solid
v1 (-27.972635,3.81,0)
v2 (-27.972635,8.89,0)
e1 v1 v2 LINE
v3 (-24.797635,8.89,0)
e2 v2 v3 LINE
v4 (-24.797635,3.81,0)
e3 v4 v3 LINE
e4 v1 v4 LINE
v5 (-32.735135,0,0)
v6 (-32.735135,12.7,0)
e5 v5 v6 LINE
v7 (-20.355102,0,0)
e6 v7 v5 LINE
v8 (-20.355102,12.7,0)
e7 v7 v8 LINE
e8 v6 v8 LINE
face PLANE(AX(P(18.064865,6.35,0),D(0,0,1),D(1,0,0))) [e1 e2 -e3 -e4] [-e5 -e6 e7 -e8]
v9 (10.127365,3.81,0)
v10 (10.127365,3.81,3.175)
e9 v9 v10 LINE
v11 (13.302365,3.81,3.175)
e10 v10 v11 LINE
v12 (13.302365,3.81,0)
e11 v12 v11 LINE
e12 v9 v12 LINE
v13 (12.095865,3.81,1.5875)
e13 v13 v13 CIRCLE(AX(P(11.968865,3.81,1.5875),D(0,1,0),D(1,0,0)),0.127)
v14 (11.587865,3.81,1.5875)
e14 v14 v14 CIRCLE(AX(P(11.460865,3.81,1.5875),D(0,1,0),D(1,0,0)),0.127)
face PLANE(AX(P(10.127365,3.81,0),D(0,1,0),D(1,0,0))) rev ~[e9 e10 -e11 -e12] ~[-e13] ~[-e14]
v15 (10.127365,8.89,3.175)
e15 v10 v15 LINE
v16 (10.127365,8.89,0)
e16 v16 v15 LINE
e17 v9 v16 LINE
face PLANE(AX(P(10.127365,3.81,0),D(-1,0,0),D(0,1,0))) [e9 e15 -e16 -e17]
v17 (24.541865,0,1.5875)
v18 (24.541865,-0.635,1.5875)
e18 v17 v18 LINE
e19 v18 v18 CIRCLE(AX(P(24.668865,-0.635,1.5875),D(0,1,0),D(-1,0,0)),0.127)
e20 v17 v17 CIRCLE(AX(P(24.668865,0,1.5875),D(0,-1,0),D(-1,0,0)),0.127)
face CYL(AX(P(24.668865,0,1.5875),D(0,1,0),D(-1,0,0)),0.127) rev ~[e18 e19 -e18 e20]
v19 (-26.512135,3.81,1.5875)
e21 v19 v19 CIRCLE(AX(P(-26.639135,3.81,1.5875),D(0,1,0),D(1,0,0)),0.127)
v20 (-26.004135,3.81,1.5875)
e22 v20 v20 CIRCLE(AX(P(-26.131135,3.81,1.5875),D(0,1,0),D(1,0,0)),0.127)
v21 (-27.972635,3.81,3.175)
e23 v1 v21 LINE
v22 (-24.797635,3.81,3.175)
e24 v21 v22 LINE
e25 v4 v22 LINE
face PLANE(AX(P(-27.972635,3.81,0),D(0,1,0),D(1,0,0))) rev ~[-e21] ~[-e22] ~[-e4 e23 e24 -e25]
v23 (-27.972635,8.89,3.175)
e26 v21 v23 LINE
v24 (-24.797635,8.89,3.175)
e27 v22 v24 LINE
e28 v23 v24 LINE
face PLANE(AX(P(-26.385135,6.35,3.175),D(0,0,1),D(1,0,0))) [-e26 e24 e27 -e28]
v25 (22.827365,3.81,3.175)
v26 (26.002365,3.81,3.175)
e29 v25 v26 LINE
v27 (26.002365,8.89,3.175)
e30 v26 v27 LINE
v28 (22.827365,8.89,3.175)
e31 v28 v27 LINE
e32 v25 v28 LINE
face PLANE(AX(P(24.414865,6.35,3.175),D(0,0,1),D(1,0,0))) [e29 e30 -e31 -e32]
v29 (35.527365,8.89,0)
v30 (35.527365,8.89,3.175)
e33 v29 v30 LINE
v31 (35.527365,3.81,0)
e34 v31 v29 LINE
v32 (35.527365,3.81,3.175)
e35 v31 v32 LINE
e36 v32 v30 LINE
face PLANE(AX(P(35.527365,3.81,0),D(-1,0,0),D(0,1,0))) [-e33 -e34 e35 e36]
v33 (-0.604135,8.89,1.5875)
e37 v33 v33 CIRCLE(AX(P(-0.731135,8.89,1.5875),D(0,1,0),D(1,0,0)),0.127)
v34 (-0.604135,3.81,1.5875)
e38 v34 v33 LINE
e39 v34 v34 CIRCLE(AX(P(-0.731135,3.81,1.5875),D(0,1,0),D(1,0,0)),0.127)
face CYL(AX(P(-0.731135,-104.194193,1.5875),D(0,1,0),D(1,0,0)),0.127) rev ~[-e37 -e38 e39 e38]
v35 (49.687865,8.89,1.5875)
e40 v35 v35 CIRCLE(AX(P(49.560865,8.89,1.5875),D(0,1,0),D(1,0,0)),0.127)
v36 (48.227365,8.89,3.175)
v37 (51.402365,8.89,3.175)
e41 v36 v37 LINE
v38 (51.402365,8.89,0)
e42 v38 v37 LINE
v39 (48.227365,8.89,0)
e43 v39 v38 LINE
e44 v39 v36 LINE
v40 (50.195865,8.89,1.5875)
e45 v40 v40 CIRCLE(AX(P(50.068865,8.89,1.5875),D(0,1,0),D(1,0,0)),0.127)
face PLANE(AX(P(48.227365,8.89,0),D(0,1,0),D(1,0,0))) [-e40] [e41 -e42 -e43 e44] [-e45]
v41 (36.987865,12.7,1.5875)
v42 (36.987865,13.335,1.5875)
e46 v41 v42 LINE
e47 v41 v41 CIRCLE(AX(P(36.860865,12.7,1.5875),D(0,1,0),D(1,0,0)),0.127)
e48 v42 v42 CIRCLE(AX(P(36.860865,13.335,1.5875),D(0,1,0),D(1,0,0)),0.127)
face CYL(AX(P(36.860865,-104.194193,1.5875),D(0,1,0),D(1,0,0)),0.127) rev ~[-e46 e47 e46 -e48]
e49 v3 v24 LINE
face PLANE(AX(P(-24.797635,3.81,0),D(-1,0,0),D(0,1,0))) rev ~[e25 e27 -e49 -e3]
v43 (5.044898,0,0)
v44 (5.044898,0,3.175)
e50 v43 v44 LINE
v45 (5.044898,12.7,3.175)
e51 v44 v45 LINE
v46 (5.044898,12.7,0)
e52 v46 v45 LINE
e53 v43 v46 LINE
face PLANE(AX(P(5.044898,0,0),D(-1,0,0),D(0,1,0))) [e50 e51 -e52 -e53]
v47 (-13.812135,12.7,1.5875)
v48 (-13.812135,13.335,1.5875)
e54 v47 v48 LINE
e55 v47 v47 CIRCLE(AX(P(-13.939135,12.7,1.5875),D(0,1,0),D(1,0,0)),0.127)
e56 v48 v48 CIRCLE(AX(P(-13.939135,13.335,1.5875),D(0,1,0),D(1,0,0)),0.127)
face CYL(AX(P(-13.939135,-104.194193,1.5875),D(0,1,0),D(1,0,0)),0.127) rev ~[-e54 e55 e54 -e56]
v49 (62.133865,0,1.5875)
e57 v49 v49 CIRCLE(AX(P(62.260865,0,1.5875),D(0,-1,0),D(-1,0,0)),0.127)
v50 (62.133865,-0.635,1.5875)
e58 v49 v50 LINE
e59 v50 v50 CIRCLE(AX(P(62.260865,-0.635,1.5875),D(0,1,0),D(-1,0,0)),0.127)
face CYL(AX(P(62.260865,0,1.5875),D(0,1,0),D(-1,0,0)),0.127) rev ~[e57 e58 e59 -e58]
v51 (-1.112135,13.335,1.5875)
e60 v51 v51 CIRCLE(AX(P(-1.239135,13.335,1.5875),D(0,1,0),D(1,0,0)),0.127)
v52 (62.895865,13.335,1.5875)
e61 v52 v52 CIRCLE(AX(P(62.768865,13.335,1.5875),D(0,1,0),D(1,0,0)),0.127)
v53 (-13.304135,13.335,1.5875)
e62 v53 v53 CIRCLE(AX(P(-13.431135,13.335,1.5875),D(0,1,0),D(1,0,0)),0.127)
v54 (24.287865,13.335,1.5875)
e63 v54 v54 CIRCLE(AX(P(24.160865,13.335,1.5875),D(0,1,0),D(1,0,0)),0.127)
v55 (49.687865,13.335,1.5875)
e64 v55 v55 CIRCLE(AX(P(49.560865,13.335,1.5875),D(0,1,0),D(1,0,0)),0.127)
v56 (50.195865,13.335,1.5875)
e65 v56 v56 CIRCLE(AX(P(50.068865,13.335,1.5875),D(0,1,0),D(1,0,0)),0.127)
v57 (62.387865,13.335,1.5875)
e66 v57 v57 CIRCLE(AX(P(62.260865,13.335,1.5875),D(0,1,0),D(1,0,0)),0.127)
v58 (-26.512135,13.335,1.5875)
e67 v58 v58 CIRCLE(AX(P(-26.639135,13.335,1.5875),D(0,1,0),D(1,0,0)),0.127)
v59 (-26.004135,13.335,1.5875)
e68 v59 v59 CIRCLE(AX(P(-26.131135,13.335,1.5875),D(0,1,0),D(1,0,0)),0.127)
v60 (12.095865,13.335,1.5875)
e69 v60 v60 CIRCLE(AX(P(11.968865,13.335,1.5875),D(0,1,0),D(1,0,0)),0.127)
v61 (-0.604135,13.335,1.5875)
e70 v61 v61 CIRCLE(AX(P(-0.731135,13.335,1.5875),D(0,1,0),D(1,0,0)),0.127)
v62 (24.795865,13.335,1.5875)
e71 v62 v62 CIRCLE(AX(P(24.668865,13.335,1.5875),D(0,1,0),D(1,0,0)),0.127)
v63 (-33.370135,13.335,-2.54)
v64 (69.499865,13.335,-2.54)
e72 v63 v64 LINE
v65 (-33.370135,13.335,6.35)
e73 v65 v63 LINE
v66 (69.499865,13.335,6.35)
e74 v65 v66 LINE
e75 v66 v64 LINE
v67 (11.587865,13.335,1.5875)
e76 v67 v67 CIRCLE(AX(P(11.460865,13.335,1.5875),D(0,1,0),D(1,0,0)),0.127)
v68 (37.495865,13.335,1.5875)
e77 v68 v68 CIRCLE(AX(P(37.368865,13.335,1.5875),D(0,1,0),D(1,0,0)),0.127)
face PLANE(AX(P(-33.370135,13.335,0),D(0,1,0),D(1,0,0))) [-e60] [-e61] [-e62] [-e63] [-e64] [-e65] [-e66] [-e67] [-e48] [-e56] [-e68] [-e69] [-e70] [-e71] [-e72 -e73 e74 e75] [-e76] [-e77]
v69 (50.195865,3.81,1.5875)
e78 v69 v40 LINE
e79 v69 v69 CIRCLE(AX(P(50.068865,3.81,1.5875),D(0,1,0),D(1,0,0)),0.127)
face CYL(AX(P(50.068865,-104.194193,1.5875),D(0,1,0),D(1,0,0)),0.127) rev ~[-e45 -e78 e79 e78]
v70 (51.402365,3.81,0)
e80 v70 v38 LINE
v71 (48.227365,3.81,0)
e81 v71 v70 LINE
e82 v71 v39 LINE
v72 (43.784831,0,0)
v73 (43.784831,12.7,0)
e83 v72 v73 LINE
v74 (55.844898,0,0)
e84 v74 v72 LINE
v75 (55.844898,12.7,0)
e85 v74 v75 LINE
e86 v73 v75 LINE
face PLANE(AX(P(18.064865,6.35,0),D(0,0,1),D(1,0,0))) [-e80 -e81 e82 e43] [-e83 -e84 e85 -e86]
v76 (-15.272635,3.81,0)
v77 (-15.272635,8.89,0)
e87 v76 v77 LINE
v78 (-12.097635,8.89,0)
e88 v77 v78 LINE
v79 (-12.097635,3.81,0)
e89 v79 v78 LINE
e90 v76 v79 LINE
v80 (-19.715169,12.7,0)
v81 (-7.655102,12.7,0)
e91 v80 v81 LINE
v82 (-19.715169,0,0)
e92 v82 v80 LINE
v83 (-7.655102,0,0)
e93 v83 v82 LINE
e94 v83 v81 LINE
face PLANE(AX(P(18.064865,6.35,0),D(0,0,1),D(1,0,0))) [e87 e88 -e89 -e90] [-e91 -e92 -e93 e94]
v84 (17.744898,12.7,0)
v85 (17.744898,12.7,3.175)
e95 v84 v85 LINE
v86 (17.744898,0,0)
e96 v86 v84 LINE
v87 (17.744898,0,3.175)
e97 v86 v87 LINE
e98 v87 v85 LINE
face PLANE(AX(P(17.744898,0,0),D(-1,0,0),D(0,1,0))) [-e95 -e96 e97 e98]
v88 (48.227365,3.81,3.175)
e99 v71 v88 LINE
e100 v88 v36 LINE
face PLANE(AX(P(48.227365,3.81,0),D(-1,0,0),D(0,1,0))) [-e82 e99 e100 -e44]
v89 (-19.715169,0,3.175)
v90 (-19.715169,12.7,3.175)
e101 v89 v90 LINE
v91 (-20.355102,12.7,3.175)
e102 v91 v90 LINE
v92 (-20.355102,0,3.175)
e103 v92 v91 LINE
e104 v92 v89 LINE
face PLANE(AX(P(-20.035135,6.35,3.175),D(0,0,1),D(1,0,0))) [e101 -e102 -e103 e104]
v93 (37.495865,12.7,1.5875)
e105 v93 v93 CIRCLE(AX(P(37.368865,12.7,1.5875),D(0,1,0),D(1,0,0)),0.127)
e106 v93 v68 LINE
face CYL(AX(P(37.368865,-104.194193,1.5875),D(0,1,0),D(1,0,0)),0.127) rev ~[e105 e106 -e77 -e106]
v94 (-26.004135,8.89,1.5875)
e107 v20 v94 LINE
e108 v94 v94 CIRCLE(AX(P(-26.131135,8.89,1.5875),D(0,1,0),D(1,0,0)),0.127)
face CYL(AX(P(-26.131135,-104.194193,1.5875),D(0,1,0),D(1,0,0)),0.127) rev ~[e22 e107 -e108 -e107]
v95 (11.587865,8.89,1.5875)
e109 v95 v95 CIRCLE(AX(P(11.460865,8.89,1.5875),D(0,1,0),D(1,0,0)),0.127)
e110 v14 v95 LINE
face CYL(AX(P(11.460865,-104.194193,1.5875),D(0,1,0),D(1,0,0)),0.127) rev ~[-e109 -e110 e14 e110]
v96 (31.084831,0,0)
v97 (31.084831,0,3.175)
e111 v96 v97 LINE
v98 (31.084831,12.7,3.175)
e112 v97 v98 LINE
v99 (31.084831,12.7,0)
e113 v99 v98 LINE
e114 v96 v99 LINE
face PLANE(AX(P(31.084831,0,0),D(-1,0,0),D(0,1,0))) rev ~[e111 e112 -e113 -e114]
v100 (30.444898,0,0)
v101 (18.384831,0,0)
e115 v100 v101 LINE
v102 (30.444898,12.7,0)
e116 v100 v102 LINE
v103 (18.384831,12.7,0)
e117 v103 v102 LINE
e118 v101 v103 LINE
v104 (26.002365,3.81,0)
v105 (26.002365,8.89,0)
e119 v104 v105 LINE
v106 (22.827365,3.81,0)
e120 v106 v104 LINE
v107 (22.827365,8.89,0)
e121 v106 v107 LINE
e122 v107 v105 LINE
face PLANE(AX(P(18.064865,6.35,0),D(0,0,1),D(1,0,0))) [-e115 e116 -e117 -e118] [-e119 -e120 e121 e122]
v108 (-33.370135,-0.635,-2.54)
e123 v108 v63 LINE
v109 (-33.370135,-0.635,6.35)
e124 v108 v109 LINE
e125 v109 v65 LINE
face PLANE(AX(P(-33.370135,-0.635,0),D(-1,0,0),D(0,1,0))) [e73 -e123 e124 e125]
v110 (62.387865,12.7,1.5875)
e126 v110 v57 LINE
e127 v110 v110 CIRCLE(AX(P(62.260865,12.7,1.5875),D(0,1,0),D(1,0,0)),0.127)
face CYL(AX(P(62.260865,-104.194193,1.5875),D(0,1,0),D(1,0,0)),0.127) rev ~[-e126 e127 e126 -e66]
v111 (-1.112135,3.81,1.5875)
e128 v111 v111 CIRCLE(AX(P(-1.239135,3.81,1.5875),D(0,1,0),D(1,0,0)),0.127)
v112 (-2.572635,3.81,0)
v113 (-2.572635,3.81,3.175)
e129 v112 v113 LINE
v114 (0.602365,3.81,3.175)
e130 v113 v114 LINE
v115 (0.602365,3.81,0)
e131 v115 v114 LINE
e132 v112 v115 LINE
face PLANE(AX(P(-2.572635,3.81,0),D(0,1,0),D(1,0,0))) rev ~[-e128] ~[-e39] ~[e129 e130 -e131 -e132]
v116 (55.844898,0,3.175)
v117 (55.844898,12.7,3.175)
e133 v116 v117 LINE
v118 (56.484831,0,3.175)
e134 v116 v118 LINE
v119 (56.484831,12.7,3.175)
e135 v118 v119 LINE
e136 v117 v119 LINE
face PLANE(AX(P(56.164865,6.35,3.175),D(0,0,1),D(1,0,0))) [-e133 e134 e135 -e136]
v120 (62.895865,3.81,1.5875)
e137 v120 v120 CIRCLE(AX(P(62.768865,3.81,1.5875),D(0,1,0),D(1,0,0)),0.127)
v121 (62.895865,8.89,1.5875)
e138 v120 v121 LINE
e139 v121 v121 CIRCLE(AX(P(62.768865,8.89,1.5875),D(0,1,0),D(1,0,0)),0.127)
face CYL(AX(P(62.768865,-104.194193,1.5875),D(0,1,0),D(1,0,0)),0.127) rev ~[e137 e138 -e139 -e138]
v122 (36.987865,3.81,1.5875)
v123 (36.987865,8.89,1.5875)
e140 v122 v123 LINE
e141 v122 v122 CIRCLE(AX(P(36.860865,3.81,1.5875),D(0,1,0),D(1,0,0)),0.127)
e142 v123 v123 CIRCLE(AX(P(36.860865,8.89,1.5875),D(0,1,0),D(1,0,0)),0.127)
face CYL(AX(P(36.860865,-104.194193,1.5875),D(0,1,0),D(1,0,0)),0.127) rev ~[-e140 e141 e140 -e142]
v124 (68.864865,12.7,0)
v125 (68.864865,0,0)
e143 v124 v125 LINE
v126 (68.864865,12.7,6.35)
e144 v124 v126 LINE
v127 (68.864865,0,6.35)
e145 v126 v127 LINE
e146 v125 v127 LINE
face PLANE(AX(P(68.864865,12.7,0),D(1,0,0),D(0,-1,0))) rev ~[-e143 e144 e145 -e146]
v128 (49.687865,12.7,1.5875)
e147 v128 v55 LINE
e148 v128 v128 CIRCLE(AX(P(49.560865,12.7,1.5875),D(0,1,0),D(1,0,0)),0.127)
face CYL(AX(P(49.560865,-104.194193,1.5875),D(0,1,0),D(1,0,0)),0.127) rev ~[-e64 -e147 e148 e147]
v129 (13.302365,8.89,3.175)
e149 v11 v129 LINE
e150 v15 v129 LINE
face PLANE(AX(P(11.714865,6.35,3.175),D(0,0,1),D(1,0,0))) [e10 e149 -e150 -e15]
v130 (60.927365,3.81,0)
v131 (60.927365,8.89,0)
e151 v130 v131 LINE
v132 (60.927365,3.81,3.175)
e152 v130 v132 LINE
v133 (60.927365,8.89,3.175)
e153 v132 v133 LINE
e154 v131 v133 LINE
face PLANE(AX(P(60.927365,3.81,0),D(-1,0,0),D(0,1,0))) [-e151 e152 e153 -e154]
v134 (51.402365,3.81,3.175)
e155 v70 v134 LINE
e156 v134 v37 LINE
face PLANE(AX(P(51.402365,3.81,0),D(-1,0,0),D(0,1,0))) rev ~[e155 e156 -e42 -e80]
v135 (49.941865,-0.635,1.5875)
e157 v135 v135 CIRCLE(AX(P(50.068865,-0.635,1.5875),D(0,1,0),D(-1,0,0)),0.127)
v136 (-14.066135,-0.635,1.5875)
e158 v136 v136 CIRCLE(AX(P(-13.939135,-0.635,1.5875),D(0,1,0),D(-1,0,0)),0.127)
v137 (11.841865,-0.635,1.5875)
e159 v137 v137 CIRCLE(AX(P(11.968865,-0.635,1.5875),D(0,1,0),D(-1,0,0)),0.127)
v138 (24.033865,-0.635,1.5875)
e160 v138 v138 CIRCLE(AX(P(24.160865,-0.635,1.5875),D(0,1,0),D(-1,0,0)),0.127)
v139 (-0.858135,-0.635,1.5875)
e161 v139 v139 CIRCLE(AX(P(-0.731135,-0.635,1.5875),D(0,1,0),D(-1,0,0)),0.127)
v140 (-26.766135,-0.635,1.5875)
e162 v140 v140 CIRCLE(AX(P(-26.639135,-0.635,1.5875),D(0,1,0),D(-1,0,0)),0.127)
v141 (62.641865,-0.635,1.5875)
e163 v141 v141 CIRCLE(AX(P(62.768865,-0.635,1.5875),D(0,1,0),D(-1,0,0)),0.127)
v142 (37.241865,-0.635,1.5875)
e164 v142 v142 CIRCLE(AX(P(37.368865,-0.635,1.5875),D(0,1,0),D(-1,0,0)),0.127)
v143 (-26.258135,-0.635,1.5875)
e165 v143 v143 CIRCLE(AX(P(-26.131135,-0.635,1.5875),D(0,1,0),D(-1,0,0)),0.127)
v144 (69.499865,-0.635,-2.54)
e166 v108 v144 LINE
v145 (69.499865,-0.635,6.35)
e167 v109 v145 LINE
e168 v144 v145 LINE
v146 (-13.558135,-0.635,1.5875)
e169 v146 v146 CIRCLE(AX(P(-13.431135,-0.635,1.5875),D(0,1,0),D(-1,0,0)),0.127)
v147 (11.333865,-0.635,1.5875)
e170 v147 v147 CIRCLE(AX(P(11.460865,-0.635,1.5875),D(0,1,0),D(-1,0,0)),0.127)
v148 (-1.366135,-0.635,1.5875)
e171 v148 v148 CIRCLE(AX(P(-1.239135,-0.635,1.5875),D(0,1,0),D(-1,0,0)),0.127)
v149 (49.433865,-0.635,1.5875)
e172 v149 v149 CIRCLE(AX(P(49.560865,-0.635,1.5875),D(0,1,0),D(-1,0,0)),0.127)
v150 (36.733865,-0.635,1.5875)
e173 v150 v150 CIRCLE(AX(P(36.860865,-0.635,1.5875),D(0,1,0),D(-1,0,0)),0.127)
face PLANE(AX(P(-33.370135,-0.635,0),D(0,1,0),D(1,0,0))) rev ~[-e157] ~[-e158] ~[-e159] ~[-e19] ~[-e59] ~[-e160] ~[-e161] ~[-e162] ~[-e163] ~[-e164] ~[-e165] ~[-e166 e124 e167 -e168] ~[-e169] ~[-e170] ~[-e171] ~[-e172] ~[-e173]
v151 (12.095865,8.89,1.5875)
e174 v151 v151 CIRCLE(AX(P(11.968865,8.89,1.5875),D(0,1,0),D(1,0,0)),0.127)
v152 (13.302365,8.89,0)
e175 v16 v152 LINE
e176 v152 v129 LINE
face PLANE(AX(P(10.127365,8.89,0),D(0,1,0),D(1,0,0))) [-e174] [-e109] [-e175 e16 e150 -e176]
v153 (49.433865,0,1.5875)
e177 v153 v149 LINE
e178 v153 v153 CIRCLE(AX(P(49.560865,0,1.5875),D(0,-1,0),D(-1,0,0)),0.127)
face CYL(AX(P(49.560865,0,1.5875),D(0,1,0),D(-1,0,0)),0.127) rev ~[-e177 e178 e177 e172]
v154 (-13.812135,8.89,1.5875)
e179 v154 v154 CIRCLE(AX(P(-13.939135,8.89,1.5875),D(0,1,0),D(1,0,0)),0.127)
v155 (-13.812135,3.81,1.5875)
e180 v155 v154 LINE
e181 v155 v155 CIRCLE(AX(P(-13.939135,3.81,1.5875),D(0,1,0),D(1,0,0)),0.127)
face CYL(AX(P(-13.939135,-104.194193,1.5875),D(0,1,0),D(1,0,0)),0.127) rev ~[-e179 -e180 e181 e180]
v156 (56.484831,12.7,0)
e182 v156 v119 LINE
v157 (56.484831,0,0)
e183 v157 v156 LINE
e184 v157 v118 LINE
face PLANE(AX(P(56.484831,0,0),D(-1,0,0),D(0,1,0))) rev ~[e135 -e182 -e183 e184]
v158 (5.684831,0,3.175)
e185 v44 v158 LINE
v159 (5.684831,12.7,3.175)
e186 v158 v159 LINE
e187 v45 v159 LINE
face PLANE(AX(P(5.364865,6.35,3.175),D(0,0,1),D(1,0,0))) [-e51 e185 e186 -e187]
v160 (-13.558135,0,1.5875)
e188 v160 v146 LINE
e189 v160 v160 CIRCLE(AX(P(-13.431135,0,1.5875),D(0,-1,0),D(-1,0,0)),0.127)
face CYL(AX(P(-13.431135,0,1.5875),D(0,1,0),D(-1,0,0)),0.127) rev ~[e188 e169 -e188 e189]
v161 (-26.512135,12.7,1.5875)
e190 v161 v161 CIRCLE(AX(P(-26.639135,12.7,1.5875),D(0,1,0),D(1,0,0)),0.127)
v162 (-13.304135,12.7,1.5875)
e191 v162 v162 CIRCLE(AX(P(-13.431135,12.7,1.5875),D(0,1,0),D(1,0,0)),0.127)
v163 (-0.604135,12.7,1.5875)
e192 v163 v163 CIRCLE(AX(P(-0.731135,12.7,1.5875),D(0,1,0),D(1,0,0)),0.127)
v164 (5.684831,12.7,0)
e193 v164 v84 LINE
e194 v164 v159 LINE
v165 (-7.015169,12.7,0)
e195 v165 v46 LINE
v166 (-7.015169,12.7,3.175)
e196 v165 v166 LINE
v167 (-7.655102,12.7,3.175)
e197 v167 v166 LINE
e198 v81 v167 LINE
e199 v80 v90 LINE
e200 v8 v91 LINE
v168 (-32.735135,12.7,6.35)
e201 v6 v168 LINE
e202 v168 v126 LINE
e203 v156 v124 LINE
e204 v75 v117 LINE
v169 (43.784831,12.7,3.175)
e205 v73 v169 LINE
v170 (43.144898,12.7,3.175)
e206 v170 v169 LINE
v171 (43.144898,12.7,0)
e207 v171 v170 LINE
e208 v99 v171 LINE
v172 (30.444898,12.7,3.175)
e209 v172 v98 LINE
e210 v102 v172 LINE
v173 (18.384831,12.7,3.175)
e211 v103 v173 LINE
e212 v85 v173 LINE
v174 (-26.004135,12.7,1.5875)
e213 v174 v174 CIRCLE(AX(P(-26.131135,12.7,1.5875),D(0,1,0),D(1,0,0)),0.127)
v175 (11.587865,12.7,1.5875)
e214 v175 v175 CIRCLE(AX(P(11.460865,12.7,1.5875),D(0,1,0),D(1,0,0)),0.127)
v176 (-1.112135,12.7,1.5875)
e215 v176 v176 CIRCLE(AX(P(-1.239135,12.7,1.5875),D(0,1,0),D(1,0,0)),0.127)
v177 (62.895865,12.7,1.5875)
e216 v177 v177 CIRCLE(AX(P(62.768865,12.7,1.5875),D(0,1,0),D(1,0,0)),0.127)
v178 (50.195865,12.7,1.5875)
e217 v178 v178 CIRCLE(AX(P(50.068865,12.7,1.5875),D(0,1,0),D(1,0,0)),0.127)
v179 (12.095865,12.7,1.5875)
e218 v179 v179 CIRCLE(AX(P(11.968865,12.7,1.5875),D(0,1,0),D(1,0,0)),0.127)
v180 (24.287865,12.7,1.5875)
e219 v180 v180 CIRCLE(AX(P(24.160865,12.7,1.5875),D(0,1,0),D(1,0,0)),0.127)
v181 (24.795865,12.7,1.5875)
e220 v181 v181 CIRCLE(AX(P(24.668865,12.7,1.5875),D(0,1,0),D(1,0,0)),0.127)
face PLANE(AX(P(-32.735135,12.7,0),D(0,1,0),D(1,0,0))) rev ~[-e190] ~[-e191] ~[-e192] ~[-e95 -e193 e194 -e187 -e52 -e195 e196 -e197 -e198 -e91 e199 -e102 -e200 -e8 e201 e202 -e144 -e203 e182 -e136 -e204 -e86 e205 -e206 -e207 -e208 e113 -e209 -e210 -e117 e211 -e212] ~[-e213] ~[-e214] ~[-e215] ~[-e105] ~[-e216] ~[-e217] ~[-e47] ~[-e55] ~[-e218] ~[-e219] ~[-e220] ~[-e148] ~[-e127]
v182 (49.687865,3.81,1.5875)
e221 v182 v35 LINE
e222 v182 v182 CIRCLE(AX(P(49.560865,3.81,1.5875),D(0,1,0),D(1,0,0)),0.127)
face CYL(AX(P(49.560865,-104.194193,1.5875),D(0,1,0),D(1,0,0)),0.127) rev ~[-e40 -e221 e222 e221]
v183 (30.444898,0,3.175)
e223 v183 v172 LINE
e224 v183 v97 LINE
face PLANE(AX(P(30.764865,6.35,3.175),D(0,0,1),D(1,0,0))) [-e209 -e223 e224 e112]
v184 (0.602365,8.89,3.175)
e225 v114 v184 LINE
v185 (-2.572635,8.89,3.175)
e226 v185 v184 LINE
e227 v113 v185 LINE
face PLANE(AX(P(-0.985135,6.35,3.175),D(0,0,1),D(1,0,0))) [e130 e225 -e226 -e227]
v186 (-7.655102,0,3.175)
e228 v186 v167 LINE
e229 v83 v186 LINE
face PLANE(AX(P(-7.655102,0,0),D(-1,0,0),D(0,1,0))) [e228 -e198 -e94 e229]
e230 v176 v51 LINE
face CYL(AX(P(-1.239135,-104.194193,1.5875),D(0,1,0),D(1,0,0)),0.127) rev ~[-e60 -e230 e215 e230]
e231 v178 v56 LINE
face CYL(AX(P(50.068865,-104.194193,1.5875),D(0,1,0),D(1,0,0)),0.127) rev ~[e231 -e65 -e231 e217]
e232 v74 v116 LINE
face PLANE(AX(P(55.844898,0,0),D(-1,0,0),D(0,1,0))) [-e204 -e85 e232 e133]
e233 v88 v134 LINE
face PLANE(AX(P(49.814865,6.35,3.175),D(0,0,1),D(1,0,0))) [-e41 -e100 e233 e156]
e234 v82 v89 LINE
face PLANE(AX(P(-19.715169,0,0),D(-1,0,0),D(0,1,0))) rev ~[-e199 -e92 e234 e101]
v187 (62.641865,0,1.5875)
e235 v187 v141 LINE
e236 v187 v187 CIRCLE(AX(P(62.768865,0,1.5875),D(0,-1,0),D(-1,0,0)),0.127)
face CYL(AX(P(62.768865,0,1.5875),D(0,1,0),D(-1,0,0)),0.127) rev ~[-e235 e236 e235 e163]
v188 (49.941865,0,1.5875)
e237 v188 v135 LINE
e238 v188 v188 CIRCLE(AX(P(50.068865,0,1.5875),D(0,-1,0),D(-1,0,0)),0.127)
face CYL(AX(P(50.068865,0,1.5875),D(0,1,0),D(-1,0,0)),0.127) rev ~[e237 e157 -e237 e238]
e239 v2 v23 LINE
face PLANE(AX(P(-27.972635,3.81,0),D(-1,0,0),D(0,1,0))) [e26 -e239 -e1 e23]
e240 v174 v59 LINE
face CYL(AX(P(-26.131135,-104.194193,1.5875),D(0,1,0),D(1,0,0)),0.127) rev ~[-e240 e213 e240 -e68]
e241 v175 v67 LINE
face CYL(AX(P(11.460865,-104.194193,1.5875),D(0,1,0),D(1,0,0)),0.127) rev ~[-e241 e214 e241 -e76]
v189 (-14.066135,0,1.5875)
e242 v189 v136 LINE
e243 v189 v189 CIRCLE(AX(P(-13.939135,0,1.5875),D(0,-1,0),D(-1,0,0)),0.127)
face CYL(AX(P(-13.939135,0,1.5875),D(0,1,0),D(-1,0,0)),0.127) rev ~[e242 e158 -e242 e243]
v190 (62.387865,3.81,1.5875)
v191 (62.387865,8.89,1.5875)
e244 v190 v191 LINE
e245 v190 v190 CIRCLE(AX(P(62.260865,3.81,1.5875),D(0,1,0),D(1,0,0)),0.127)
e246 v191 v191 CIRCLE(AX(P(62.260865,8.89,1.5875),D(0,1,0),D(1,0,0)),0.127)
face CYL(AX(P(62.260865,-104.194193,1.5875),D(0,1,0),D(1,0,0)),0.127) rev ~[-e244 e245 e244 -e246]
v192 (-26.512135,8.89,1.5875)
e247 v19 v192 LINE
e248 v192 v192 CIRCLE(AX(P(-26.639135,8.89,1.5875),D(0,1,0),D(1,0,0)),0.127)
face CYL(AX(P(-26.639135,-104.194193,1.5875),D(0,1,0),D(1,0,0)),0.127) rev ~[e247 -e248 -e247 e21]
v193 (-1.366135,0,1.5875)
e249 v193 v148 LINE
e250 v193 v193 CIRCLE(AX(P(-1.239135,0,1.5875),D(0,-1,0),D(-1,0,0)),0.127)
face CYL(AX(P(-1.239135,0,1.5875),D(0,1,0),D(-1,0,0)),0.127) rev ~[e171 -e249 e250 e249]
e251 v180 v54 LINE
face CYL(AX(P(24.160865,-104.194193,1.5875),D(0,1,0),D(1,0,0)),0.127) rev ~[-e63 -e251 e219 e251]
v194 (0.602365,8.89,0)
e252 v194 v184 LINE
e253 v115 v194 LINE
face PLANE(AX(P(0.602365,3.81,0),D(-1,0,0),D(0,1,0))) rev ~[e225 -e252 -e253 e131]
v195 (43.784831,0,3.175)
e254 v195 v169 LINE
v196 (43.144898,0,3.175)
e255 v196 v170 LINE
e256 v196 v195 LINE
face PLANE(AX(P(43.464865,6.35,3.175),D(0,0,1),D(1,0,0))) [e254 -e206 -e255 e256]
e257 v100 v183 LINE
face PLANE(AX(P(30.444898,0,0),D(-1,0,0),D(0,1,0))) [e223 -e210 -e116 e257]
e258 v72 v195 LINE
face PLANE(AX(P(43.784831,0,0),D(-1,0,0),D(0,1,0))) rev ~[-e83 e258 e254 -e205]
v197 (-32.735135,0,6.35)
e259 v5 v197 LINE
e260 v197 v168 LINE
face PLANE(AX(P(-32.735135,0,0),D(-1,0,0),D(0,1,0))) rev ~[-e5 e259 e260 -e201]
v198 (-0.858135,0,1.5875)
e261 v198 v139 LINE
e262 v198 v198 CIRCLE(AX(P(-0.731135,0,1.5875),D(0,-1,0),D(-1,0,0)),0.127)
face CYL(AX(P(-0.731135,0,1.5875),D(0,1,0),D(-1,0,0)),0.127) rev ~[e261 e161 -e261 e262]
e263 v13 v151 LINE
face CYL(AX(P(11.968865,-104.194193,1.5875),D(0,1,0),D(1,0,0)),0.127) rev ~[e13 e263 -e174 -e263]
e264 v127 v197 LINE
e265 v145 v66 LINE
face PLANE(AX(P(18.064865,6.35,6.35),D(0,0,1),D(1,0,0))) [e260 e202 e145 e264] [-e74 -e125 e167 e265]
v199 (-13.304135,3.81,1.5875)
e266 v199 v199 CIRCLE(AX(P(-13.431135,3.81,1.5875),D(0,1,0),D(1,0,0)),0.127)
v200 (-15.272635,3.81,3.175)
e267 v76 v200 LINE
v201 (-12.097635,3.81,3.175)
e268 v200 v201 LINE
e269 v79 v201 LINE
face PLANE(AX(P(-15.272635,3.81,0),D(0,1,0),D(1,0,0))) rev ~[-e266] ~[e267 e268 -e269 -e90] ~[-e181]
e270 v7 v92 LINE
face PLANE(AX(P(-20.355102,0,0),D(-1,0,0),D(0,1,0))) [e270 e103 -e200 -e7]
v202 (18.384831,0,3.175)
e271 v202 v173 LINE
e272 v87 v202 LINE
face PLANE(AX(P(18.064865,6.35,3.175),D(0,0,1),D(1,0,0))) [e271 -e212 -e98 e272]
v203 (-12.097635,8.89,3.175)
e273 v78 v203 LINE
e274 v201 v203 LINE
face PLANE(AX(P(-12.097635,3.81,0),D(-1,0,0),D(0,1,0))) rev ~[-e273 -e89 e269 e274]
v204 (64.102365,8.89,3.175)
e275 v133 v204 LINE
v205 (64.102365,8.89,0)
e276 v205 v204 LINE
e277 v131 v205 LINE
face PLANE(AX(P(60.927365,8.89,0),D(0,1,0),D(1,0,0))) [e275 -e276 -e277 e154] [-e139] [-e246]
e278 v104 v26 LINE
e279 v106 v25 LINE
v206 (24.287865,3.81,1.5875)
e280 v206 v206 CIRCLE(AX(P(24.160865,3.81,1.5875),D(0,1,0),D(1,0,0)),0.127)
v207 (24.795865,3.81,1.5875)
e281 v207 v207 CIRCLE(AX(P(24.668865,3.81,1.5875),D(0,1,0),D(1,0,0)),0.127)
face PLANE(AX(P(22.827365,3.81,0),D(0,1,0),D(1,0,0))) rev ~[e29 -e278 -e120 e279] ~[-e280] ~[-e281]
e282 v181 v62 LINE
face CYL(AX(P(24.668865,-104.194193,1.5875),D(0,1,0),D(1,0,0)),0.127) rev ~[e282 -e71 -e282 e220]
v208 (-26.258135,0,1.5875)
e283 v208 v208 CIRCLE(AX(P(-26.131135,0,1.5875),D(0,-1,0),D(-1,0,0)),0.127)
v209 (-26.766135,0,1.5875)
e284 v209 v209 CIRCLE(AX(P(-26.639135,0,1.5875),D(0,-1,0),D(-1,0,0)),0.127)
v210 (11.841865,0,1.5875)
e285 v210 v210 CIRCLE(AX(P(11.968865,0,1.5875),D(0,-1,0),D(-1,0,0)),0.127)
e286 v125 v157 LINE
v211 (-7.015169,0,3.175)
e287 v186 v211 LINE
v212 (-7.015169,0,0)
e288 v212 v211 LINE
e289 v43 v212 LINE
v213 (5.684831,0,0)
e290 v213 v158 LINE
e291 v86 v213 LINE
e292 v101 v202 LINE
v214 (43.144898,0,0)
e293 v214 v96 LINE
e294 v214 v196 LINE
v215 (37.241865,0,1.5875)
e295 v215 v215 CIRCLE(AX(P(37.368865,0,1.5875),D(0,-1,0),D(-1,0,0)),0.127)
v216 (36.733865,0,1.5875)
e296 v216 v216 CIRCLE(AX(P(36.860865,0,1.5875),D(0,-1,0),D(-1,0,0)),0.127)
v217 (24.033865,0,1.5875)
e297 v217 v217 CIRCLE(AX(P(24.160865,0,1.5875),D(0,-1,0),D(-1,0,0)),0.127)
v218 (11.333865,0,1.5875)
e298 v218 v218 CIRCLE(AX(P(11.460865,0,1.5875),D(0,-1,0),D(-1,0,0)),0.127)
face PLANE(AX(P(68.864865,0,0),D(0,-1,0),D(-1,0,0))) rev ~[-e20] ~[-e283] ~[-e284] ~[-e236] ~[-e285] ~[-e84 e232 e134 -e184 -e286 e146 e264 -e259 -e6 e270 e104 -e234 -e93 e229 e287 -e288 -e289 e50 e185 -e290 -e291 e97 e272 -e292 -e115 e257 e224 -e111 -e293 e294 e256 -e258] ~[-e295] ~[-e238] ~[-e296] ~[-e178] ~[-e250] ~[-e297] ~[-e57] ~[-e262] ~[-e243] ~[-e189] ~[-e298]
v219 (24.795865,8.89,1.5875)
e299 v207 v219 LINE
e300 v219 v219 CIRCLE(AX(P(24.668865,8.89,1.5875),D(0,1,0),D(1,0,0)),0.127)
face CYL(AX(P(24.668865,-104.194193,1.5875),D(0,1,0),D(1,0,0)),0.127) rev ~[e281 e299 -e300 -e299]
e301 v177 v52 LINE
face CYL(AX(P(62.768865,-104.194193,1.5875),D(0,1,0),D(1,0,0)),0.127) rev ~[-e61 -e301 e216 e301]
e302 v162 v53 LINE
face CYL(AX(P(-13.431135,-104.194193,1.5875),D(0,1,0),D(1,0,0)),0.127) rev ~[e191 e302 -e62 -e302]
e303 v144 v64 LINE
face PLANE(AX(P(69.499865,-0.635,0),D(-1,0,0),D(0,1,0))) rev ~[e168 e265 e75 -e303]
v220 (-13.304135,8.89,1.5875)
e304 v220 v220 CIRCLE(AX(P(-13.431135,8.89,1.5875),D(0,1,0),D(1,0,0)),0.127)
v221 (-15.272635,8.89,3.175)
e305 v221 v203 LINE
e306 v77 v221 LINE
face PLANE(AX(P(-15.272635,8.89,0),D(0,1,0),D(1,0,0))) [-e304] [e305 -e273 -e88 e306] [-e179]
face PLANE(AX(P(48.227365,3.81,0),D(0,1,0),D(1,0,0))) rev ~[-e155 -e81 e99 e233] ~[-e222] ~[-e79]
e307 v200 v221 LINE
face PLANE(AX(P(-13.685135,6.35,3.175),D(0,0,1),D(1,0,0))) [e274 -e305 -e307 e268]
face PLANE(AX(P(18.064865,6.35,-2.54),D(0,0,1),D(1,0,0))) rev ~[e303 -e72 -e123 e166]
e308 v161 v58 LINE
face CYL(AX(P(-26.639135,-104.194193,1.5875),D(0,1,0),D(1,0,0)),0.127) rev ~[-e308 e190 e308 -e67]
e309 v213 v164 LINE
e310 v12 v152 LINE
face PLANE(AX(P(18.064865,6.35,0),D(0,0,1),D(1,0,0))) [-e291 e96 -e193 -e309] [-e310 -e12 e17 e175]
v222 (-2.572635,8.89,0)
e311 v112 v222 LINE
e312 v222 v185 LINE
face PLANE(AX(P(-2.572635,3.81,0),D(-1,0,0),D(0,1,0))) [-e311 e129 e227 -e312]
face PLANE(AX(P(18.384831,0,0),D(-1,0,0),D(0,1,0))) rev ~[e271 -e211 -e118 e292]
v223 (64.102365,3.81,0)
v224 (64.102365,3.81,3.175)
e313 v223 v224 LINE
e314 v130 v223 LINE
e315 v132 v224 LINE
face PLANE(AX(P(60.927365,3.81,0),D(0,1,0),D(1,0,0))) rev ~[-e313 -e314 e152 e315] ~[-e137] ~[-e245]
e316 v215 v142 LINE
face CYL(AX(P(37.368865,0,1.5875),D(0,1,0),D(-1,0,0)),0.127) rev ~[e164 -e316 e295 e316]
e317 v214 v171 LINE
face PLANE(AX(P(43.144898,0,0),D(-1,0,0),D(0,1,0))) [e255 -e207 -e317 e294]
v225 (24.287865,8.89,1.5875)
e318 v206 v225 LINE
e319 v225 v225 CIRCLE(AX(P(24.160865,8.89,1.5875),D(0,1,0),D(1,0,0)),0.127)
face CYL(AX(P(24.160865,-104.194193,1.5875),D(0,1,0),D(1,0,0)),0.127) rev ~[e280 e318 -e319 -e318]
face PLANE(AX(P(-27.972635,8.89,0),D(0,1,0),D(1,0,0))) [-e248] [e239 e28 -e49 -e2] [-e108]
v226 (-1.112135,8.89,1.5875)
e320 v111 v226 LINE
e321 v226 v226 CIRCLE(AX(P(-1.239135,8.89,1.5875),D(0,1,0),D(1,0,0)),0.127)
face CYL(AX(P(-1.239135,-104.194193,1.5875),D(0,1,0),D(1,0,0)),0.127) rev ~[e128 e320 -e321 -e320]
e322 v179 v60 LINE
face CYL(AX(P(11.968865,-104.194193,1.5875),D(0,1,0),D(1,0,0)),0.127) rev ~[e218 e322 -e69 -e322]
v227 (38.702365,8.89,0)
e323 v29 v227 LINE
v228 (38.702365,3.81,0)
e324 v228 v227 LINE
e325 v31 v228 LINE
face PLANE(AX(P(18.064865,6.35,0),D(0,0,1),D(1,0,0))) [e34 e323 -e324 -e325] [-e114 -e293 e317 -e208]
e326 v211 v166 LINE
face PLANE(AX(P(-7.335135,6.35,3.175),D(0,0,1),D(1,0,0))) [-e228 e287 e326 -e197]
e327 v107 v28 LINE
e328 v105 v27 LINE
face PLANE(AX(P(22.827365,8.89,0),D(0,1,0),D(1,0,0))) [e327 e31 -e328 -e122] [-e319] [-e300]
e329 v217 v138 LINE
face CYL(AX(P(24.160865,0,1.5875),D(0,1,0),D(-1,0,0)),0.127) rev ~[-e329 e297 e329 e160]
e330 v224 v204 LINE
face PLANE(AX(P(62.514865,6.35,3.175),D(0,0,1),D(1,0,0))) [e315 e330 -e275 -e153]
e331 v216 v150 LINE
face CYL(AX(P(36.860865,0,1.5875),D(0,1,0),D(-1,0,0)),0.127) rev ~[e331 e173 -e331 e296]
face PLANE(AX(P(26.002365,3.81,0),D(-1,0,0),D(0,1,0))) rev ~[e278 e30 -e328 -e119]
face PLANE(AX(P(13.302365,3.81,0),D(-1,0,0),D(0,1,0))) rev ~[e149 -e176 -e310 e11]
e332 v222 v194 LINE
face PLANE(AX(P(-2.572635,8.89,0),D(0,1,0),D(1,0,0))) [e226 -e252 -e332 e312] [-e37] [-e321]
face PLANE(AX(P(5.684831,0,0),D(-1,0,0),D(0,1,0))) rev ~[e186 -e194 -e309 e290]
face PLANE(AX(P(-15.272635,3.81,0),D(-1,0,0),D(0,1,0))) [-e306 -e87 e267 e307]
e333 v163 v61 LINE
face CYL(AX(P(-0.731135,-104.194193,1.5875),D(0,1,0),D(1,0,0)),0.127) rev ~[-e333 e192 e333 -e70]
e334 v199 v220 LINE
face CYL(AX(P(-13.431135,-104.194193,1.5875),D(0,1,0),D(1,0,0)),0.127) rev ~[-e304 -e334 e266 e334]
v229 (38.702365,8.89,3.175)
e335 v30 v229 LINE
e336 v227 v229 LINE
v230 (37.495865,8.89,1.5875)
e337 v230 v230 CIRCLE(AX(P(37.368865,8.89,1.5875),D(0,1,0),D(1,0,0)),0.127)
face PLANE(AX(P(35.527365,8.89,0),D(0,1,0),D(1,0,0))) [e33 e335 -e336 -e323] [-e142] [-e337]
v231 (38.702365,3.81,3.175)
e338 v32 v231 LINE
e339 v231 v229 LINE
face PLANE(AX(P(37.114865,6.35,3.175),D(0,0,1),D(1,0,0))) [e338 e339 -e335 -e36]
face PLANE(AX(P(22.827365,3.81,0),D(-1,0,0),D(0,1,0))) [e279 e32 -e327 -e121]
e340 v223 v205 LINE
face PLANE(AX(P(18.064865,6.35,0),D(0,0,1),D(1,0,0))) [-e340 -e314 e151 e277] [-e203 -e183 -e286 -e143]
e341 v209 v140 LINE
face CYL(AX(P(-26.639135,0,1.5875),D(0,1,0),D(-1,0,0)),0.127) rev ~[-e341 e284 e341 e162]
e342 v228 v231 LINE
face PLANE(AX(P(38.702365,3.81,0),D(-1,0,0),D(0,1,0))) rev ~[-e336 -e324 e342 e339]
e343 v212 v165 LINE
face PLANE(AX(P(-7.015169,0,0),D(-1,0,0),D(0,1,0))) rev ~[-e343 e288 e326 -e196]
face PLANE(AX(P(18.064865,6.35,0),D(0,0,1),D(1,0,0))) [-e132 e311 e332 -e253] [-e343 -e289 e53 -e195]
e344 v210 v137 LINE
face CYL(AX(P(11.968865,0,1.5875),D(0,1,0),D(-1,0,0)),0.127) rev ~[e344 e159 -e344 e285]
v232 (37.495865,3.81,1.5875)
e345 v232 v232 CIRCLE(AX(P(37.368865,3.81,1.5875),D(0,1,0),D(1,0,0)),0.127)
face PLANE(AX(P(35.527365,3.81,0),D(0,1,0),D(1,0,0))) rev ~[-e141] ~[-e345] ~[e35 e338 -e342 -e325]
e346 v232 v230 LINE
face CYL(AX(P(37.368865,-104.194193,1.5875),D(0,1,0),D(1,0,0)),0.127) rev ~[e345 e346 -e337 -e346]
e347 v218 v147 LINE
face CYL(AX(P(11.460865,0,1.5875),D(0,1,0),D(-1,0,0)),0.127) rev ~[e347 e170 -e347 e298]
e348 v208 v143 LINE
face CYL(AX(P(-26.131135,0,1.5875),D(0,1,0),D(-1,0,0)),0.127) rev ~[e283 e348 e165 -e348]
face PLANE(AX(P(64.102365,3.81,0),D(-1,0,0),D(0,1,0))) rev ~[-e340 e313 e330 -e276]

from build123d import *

# Parameters (mm, degrees)
F0_W     = 102.87
F0_H     = 13.97
F0_W_2   = 12.3800332606
F0_H_2   = 12.7
F0_W_3   = 3.175
F0_H_3   = 5.08
F0_W_4   = 12.0600665212
F0_W_5   = 0.6399334788
F1_DEPTH = 2.54
F2_DEPTH = 6.35
F3_DEPTH = 3.175
F5_D     = 0.254
F5_DEPTH = 0.636
F6_D     = 0.254


with BuildPart() as f1:
    # F0 (on Top) → F1 (new body)
    with BuildSketch(Plane.XY):
        with Locations((18.0648645937, 6.35)):
            Rectangle(F0_W, F0_H)
        Polygon((-20.3551021457, 0), (-32.7351354063, 0), (-32.7351354063, 12.7), (-20.3551021457, 12.7), (-19.7151686668, 12.7), (-7.6551021457, 12.7), (-7.0151686668, 12.7), (5.0448978543, 12.7), (5.6848313332, 12.7), (17.7448978543, 12.7), (18.3848313332, 12.7), (30.4448978543, 12.7), (31.0848313332, 12.7), (43.1448978543, 12.7), (43.7848313332, 12.7), (55.8448978543, 12.7), (56.4848313332, 12.7), (68.8648645937, 12.7), (68.8648645937, 0), (56.4848313332, 0), (55.8448978543, 0), (43.7848313332, 0), (43.1448978543, 0), (31.0848313332, 0), (30.4448978543, 0), (18.3848313332, 0), (17.7448978543, 0), (5.6848313332, 0), (5.0448978543, 0), (-7.0151686668, 0), (-7.6551021457, 0), (-19.7151686668, 0), align=None, mode=Mode.SUBTRACT)
        with Locations((62.6748479635, 6.35)):
            Rectangle(F0_W_2, F0_H_2)
        with Locations((62.5148645937, 6.35)):
            Rectangle(F0_W_3, F0_H_3, mode=Mode.SUBTRACT)
        with Locations((-26.545118776, 6.35)):
            Rectangle(F0_W_2, F0_H_2)
        with Locations((-26.3851354063, 6.35)):
            Rectangle(F0_W_3, F0_H_3, mode=Mode.SUBTRACT)
        with Locations((-13.6851354063, 6.35)):
            Rectangle(F0_W_4, F0_H_2)
        with Locations((-13.6851354063, 6.35)):
            Rectangle(F0_W_3, F0_H_3, mode=Mode.SUBTRACT)
        with Locations((-0.9851354063, 6.35)):
            Rectangle(F0_W_4, F0_H_2)
        with Locations((-0.9851354063, 6.35)):
            Rectangle(F0_W_3, F0_H_3, mode=Mode.SUBTRACT)
        with Locations((49.8148645937, 6.35)):
            Rectangle(F0_W_4, F0_H_2)
        with Locations((49.8148645937, 6.35)):
            Rectangle(F0_W_3, F0_H_3, mode=Mode.SUBTRACT)
        with Locations((37.1148645937, 6.35)):
            Rectangle(F0_W_4, F0_H_2)
        with Locations((37.1148645937, 6.35)):
            Rectangle(F0_W_3, F0_H_3, mode=Mode.SUBTRACT)
        with Locations((11.7148645937, 6.35)):
            Rectangle(F0_W_4, F0_H_2)
        with Locations((11.7148645937, 6.35)):
            Rectangle(F0_W_3, F0_H_3, mode=Mode.SUBTRACT)
        with Locations((24.4148645937, 6.35)):
            Rectangle(F0_W_4, F0_H_2)
        with Locations((24.4148645937, 6.35)):
            Rectangle(F0_W_3, F0_H_3, mode=Mode.SUBTRACT)
        with Locations((49.8148645937, 6.35)):
            Rectangle(F0_W_3, F0_H_3)
        with Locations((24.4148645937, 6.35)):
            Rectangle(F0_W_3, F0_H_3)
        with Locations((-26.3851354063, 6.35)):
            Rectangle(F0_W_3, F0_H_3)
        with Locations((-0.9851354063, 6.35)):
            Rectangle(F0_W_3, F0_H_3)
        with Locations((-13.6851354063, 6.35)):
            Rectangle(F0_W_3, F0_H_3)
        with Locations((62.5148645937, 6.35)):
            Rectangle(F0_W_3, F0_H_3)
        with Locations((11.7148645937, 6.35)):
            Rectangle(F0_W_3, F0_H_3)
        with Locations((37.1148645937, 6.35)):
            Rectangle(F0_W_3, F0_H_3)
        with Locations((5.3648645937, 6.35)):
            Rectangle(F0_W_5, F0_H_2)
        with Locations((56.1648645937, 6.35)):
            Rectangle(F0_W_5, F0_H_2)
        with Locations((18.0648645937, 6.35)):
            Rectangle(F0_W_5, F0_H_2)
        with Locations((30.7648645937, 6.35)):
            Rectangle(F0_W_5, F0_H_2)
        with Locations((43.4648645937, 6.35)):
            Rectangle(F0_W_5, F0_H_2)
        with Locations((-7.3351354063, 6.35)):
            Rectangle(F0_W_5, F0_H_2)
        with Locations((-20.0351354063, 6.35)):
            Rectangle(F0_W_5, F0_H_2)
    extrude(amount=-F1_DEPTH)

    # F0 (on Top) → F2 (join)
    with BuildSketch(Plane.XY):
        with Locations((18.0648645937, 6.35)):
            Rectangle(F0_W, F0_H)
        Polygon((-20.3551021457, 0), (-32.7351354063, 0), (-32.7351354063, 12.7), (-20.3551021457, 12.7), (-19.7151686668, 12.7), (-7.6551021457, 12.7), (-7.0151686668, 12.7), (5.0448978543, 12.7), (5.6848313332, 12.7), (17.7448978543, 12.7), (18.3848313332, 12.7), (30.4448978543, 12.7), (31.0848313332, 12.7), (43.1448978543, 12.7), (43.7848313332, 12.7), (55.8448978543, 12.7), (56.4848313332, 12.7), (68.8648645937, 12.7), (68.8648645937, 0), (56.4848313332, 0), (55.8448978543, 0), (43.7848313332, 0), (43.1448978543, 0), (31.0848313332, 0), (30.4448978543, 0), (18.3848313332, 0), (17.7448978543, 0), (5.6848313332, 0), (5.0448978543, 0), (-7.0151686668, 0), (-7.6551021457, 0), (-19.7151686668, 0), align=None, mode=Mode.SUBTRACT)
    extrude(amount=F2_DEPTH)

    # F0 (on Top) → F3 (join)
    with BuildSketch(Plane.XY):
        with Locations((-26.3851354063, 6.35)):
            Rectangle(F0_W_3, F0_H_3)
        with Locations((-13.6851354063, 6.35)):
            Rectangle(F0_W_3, F0_H_3)
        with Locations((-0.9851354063, 6.35)):
            Rectangle(F0_W_3, F0_H_3)
        with Locations((11.7148645937, 6.35)):
            Rectangle(F0_W_3, F0_H_3)
        with Locations((24.4148645937, 6.35)):
            Rectangle(F0_W_3, F0_H_3)
        with Locations((37.1148645937, 6.35)):
            Rectangle(F0_W_3, F0_H_3)
        with Locations((49.8148645937, 6.35)):
            Rectangle(F0_W_3, F0_H_3)
        with Locations((62.5148645937, 6.35)):
            Rectangle(F0_W_3, F0_H_3)
        with Locations((56.1648645937, 6.35)):
            Rectangle(F0_W_5, F0_H_2)
        with Locations((43.4648645937, 6.35)):
            Rectangle(F0_W_5, F0_H_2)
        with Locations((30.7648645937, 6.35)):
            Rectangle(F0_W_5, F0_H_2)
        with Locations((18.0648645937, 6.35)):
            Rectangle(F0_W_5, F0_H_2)
        with Locations((5.3648645937, 6.35)):
            Rectangle(F0_W_5, F0_H_2)
        with Locations((-7.3351354063, 6.35)):
            Rectangle(F0_W_5, F0_H_2)
        with Locations((-20.0351354063, 6.35)):
            Rectangle(F0_W_5, F0_H_2)
    extrude(amount=F3_DEPTH)

    # F5 (through all, one way)
    with BuildSketch(Plane(origin=(0, 0, 0), x_dir=(-1, 0, 0), z_dir=(0, 1, 0))):
        with Locations((26.6391354063, 1.5875), (26.1311354063, 1.5875), (13.9391354063, 1.5875), (13.4311354063, 1.5875), (1.2391354063, 1.5875), (0.7311354063, 1.5875), (-11.4608645937, 1.5875), (-11.9688645937, 1.5875), (-24.1608645937, 1.5875), (-24.6688645937, 1.5875), (-36.8608645937, 1.5875), (-37.3688645937, 1.5875), (-49.5608645937, 1.5875), (-50.0688645937, 1.5875), (-62.2608645937, 1.5875), (-62.7688645937, 1.5875)):
            Circle(F5_D / 2)
    extrude(amount=-F5_DEPTH, mode=Mode.SUBTRACT)

    # F6 (through all)
    with Locations(Plane(origin=(0, 0, 0), x_dir=(-1, 0, 0), z_dir=(0, -1, 0))):
        with Locations((-62.7688645937, -1.5875), (-62.2608645937, -1.5875), (-50.0688645937, -1.5875), (-49.5608645937, -1.5875), (-37.3688645937, -1.5875), (-36.8608645937, -1.5875), (-24.6688645937, -1.5875), (-24.1608645937, -1.5875), (-11.9688645937, -1.5875), (-11.4608645937, -1.5875), (0.7311354063, -1.5875), (1.2391354063, -1.5875), (13.4311354063, -1.5875), (13.9391354063, -1.5875), (26.1311354063, -1.5875), (26.6391354063, -1.5875)):
            Hole(F6_D / 2)


solid = f1.part
